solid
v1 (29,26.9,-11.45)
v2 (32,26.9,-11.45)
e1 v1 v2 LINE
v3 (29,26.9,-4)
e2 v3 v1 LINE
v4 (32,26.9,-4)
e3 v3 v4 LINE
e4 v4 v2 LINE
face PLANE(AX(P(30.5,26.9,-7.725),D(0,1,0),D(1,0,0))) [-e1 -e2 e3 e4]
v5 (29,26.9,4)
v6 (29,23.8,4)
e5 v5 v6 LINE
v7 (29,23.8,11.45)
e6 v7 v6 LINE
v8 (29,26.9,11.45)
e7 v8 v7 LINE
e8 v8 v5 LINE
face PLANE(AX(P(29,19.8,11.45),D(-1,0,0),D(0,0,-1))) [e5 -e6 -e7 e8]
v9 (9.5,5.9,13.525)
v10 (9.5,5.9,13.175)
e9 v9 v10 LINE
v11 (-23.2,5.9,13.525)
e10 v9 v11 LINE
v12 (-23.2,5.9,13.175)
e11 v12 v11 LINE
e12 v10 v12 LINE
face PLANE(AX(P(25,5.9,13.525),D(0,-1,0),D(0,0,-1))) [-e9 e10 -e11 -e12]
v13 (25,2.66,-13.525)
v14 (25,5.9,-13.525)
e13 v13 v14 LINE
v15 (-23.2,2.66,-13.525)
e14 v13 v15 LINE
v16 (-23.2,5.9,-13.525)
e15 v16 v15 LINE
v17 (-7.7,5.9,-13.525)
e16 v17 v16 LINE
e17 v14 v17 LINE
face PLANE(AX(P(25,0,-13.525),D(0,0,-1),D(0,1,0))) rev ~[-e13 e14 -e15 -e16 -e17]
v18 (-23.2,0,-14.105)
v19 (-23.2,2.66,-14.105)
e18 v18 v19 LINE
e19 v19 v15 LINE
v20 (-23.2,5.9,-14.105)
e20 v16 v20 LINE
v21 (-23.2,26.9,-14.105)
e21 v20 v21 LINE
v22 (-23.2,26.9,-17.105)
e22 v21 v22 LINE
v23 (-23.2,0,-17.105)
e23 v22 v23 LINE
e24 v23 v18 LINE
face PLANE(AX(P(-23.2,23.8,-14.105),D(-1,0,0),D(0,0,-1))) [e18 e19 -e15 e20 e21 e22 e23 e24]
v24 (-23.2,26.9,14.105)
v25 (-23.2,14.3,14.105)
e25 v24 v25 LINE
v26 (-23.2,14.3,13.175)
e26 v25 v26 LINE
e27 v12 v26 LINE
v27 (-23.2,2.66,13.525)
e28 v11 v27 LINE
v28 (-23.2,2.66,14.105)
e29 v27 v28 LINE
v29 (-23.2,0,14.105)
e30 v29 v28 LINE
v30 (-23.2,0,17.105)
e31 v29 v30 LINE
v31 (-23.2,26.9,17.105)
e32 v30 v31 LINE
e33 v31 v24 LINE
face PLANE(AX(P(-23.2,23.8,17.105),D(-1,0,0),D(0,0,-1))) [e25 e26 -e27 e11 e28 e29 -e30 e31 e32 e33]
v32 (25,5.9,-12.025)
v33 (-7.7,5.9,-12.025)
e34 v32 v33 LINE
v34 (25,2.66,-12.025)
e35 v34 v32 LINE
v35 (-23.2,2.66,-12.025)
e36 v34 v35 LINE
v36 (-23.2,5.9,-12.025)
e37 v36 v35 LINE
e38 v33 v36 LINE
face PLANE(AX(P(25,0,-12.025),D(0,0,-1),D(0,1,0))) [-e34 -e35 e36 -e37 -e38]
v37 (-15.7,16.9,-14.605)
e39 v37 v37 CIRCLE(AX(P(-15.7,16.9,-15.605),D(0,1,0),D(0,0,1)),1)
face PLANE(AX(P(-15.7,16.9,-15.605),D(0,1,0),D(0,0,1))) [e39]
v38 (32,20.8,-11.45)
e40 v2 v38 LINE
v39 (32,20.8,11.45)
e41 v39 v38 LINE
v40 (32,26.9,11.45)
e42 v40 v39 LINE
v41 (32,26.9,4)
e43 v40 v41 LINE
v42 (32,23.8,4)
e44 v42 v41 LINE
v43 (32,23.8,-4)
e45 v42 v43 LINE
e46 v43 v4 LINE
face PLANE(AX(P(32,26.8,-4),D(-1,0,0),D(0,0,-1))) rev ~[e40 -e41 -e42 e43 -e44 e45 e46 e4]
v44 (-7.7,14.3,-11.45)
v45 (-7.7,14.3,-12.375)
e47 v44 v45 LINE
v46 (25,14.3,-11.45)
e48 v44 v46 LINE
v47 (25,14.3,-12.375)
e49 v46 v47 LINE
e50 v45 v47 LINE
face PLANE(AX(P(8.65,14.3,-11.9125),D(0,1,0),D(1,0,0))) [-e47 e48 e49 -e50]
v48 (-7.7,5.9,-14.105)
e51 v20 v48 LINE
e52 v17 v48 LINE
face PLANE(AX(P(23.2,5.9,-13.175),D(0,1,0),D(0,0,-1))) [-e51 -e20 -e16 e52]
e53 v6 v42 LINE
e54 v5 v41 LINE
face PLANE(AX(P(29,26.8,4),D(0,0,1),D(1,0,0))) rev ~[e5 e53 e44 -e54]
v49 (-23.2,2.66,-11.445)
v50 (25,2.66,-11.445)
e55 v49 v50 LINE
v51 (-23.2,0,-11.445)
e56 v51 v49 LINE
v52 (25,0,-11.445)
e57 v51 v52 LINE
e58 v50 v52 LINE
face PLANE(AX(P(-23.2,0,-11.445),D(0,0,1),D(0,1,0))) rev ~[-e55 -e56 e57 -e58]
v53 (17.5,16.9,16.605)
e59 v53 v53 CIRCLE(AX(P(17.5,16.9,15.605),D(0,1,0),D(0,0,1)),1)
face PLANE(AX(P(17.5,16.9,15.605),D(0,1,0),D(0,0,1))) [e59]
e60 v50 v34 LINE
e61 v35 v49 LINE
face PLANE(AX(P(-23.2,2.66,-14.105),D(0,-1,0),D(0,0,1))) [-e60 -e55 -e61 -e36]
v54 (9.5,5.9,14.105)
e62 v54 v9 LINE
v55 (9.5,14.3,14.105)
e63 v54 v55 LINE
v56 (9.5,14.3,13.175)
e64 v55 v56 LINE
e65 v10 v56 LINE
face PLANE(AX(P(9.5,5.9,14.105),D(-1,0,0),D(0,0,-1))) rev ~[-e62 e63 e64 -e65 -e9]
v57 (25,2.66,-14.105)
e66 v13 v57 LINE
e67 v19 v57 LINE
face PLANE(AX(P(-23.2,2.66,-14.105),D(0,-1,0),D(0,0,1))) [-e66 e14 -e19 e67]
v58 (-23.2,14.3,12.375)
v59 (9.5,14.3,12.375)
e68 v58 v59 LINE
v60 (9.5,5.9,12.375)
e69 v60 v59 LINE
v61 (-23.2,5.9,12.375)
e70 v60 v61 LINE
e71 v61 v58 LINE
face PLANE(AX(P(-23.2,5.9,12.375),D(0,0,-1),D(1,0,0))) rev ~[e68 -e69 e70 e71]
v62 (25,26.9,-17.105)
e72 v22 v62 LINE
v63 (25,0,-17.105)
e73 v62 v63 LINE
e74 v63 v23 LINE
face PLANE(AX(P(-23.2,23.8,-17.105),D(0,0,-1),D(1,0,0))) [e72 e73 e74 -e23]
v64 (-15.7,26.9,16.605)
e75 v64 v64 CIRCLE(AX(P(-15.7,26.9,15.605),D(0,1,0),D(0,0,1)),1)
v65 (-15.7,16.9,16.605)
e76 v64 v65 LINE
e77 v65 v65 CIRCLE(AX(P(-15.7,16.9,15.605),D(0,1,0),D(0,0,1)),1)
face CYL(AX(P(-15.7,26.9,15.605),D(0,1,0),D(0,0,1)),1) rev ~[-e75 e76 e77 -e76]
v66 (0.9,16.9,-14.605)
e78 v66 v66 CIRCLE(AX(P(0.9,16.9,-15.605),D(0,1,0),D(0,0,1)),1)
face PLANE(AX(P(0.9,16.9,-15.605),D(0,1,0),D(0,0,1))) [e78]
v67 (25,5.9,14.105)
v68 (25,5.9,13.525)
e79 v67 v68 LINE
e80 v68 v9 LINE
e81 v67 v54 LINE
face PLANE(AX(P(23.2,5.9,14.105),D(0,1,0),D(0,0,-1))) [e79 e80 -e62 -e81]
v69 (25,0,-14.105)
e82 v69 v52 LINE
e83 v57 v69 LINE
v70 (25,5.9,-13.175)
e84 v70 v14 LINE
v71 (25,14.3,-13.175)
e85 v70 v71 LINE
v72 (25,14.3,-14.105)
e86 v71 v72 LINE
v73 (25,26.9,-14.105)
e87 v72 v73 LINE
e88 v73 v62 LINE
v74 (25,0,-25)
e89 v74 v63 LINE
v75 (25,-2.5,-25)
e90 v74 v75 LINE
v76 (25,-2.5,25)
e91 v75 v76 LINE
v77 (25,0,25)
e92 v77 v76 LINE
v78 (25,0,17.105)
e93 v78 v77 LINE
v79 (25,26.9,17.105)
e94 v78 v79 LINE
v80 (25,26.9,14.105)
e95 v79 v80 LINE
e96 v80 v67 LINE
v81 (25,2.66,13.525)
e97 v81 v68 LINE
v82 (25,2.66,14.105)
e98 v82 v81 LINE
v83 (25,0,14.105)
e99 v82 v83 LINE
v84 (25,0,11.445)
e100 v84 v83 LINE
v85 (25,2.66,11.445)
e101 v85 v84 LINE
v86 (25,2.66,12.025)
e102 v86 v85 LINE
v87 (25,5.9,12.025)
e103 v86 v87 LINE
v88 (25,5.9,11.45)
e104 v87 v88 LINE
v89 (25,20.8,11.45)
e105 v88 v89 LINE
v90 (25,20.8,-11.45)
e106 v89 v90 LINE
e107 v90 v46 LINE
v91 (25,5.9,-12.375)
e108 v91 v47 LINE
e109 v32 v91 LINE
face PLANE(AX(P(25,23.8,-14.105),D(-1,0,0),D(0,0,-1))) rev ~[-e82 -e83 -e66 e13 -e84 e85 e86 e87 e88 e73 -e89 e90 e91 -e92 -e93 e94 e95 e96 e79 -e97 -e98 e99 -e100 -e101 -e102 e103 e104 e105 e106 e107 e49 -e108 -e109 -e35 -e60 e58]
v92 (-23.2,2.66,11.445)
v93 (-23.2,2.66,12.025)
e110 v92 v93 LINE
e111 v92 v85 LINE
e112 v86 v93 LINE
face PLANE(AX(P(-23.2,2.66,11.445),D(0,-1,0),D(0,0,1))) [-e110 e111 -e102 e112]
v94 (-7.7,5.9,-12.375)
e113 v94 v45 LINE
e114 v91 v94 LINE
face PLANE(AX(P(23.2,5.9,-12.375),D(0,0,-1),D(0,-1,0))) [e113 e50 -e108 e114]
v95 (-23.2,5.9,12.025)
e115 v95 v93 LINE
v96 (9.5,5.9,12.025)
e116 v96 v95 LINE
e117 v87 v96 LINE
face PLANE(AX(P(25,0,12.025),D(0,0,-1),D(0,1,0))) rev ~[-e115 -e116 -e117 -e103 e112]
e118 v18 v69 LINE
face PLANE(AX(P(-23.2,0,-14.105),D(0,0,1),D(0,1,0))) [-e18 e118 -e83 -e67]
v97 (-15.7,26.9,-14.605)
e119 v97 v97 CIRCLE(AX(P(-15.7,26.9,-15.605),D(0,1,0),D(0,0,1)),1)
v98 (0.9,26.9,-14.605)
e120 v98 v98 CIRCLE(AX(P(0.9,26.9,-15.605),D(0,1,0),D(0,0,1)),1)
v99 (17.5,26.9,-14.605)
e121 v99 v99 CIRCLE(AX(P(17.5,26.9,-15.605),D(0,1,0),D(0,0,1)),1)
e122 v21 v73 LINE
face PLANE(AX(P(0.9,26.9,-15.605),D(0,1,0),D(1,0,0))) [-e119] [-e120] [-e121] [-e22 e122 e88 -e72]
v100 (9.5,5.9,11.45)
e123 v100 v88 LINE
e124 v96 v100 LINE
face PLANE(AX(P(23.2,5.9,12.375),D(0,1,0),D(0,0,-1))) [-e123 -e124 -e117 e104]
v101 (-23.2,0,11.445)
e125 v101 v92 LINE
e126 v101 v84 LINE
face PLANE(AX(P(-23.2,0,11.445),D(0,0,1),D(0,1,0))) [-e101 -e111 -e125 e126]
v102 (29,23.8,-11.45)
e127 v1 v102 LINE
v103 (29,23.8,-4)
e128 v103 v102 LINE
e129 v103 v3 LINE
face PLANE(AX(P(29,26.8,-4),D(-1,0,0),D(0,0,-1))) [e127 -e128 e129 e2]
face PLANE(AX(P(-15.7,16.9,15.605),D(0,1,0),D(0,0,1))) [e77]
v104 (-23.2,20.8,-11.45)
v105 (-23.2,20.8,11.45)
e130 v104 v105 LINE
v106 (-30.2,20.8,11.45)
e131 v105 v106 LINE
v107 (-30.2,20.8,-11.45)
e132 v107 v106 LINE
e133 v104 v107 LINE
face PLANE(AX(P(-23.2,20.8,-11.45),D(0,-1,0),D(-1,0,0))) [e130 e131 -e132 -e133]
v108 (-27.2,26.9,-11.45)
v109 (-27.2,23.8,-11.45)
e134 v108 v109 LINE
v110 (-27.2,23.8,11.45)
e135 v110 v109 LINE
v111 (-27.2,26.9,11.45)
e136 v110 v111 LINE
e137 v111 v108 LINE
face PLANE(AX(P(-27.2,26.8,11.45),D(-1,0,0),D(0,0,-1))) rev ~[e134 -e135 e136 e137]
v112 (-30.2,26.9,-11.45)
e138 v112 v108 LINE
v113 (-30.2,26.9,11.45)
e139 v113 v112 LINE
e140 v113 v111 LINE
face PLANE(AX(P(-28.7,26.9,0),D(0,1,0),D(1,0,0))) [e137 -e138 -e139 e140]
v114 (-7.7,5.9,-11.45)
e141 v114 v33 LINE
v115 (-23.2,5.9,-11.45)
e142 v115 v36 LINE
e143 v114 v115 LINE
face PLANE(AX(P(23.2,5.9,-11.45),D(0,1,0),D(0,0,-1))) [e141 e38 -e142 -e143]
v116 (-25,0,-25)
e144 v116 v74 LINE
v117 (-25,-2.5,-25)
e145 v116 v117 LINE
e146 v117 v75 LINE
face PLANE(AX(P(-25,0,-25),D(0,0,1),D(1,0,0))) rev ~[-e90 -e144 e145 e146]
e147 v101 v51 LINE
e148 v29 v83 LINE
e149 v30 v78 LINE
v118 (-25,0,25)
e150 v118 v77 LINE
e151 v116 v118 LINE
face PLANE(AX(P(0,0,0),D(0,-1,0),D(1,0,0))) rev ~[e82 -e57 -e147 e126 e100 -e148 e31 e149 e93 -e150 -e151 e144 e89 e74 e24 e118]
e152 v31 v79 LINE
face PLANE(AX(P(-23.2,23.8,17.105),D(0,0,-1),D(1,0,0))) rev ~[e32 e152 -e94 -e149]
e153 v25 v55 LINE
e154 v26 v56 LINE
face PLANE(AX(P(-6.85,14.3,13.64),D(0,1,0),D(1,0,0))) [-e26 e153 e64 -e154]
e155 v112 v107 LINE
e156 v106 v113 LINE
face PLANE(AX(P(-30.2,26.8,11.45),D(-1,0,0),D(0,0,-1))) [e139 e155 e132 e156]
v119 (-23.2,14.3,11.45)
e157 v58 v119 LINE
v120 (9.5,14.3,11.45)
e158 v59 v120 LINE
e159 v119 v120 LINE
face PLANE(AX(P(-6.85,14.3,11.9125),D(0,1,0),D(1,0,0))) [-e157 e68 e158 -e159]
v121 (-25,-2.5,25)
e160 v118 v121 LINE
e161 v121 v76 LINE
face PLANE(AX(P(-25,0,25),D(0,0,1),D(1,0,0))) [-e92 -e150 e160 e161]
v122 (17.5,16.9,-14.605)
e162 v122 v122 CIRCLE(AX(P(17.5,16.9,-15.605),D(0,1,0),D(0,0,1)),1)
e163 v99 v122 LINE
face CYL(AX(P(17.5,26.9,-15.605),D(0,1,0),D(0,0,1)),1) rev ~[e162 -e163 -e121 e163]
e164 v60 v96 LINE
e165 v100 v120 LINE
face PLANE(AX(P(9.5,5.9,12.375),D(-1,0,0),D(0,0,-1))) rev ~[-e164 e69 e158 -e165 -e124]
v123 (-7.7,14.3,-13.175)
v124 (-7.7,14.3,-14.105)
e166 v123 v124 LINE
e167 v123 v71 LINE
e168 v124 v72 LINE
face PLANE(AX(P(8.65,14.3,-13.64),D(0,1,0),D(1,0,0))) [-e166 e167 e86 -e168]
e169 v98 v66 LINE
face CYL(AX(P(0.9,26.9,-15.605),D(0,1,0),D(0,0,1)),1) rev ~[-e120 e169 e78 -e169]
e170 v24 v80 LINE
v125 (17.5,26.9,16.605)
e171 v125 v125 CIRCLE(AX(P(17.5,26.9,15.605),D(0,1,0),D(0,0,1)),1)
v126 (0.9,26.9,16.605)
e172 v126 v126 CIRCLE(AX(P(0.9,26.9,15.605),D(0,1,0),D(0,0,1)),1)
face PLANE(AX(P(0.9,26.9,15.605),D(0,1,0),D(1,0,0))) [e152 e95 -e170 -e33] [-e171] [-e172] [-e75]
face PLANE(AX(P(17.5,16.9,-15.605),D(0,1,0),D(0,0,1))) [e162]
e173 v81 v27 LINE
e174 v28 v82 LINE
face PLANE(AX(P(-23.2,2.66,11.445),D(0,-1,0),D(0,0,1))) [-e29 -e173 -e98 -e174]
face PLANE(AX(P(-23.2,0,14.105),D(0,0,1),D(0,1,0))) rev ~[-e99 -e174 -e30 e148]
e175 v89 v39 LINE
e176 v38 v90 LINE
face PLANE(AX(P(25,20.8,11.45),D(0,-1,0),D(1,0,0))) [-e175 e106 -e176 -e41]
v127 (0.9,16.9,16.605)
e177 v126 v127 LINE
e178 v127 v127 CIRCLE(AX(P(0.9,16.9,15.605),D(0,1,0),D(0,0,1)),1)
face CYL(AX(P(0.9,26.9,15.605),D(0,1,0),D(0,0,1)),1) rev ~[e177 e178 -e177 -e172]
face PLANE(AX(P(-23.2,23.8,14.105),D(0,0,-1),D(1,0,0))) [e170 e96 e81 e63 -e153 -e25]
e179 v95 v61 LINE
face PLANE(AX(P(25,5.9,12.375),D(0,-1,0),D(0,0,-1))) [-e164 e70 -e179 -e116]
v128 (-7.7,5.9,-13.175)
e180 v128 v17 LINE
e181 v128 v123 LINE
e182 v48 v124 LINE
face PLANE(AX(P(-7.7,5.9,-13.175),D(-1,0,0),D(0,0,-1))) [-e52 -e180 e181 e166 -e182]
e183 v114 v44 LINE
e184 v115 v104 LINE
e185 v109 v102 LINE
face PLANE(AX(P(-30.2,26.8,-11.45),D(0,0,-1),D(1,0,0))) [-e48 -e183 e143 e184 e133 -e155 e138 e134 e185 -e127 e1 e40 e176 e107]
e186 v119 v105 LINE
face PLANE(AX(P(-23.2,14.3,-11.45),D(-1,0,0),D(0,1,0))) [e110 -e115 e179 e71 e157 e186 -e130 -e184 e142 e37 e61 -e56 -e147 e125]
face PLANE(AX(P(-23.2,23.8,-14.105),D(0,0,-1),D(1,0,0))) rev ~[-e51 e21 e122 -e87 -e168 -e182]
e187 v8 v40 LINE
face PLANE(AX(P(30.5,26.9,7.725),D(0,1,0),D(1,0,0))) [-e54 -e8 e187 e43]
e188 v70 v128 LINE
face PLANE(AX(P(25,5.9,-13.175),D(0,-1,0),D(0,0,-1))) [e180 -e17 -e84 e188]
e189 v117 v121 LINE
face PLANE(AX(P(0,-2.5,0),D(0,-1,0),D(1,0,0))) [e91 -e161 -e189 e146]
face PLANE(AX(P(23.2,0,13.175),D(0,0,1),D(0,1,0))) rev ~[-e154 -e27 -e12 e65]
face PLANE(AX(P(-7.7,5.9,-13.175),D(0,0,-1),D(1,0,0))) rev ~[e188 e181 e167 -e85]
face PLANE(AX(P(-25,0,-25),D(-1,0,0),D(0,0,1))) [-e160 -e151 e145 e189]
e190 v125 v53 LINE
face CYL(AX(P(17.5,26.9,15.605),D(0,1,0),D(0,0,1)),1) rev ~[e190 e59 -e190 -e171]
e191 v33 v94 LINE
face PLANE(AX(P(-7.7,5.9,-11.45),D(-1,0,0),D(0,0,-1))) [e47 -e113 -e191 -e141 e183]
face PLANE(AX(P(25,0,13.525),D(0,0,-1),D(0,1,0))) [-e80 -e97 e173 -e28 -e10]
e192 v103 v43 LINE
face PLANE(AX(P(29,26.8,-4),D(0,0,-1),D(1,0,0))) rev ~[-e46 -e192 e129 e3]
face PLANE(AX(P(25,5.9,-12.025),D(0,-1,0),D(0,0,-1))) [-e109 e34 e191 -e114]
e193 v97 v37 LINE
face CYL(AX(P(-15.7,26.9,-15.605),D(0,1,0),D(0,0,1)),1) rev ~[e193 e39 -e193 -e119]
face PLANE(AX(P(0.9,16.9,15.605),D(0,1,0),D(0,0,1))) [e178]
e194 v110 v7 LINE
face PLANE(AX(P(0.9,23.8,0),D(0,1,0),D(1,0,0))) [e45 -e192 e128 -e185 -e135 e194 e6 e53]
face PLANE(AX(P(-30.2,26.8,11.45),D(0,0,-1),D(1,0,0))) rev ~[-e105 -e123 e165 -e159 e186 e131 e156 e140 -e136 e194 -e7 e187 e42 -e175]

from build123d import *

# Parameters (mm, degrees)
SKETCH1_W            = 46.4
SKETCH1_H            = 24.75
BOSS_EXTRUDE1_DEPTH  = 5.9
BOSS_EXTRUDE2_DEPTH  = 2.5
SKETCH3_W            = 50
SKETCH3_H            = 50
BOSS_EXTRUDE3_DEPTH  = 2.5
SKETCH4_W            = 46.4
SKETCH4_H            = 0.93
BOSS_EXTRUDE4_DEPTH  = 5.9
SKETCH5_W            = 46.4
SKETCH5_H            = 0.93
BOSS_EXTRUDE5_DEPTH  = 5.9
SKETCH6_W            = 46.4
SKETCH6_H            = 3
BOSS_EXTRUDE6_DEPTH  = 8.4
SKETCH7_W            = 46.4
SKETCH7_H            = 3
BOSS_EXTRUDE7_DEPTH  = 8.4
SKETCH8_W            = 46.4
SKETCH8_H            = 22.9
BOSS_EXTRUDE8_DEPTH  = 8.4
SKETCH9_W            = 46.4
SKETCH9_H            = 3
BOSS_EXTRUDE9_DEPTH  = 8.4
SKETCH10_W           = 22.9
SKETCH10_H           = 10.9
BOSS_EXTRUDE10_DEPTH = 1.8
SKETCH11_W           = 0.93
SKETCH11_H           = 5.9
BOSS_EXTRUDE11_DEPTH = 1.8
SKETCH12_W           = 32.7
SKETCH12_H           = 0.925
SKETCH12_H_2         = 0.93
BOSS_EXTRUDE12_DEPTH = 8.4
SKETCH13_W           = 0.93
SKETCH13_H           = 5.9
BOSS_EXTRUDE13_DEPTH = 1.8
SKETCH14_W           = 48.2
SKETCH14_H           = 3
BOSS_EXTRUDE14_DEPTH = 8.4
SKETCH15_W           = 32.7
SKETCH15_H           = 0.93
SKETCH15_H_2         = 0.925
BOSS_EXTRUDE15_DEPTH = 8.4
SKETCH16_W           = 0.35
SKETCH16_H           = 5.9
CUT_EXTRUDE1_DEPTH   = 59.371568422
SKETCH18_W           = 0.35
SKETCH18_H           = 5.9
CUT_EXTRUDE2_DEPTH   = 59.371568422
SKETCH20_W           = 22.9
SKETCH20_H           = 2.5
BOSS_EXTRUDE17_DEPTH = 4
SKETCH22_W           = 22.9
SKETCH22_H           = 2.5
BOSS_EXTRUDE19_DEPTH = 3
SKETCH23_W           = 3
SKETCH23_H           = 22.9
BOSS_EXTRUDE20_DEPTH = 1.5
SKETCH24_W           = 22.9
SKETCH24_H           = 2.5
BOSS_EXTRUDE21_DEPTH = 7
SKETCH25_W           = 3
SKETCH25_H           = 22.9
BOSS_EXTRUDE22_DEPTH = 3
SKETCH27_W           = 48.2
SKETCH27_H           = 3
BOSS_EXTRUDE23_DEPTH = 7
SKETCH28_W           = 56.2
SKETCH28_H           = 22.9
BOSS_EXTRUDE24_DEPTH = 7
SKETCH29_W           = 3
SKETCH29_H           = 22.9
BOSS_EXTRUDE25_DEPTH = 7
SKETCH30_W           = 3
SKETCH30_H           = 22.9
BOSS_EXTRUDE26_DEPTH = 7
SKETCH31_W           = 7
SKETCH31_H           = 6.5
CUT_EXTRUDE3_DEPTH   = 56.415182938
SKETCH32_W           = 7
SKETCH32_H           = 6.5
CUT_EXTRUDE4_DEPTH   = 56.415182938
SKETCH33_W           = 2.66
SKETCH33_H           = 2.66
CUT_EXTRUDE5_DEPTH   = 67.259188042
SKETCH34_W           = 2.66
SKETCH34_H           = 2.66
CUT_EXTRUDE6_DEPTH   = 67.259188042
SKETCH35_W           = 3
SKETCH35_H           = 8
CUT_EXTRUDE7_DEPTH   = 3
SKETCH36_W           = 3
SKETCH36_H           = 22.9
BOSS_EXTRUDE27_DEPTH = 1.5
SKETCH38_W           = 48.2
SKETCH38_H           = 3
BOSS_EXTRUDE28_DEPTH = 3.1
SKETCH39_W           = 48.2
SKETCH39_H           = 3
BOSS_EXTRUDE29_DEPTH = 3.1
SKETCH40_W           = 3
SKETCH40_H           = 7.45
BOSS_EXTRUDE30_DEPTH = 0.1
SKETCH41_W           = 3
SKETCH41_H           = 22.9
BOSS_EXTRUDE31_DEPTH = 0.1
SKETCH42_R           = 1
CUT_EXTRUDE8_DEPTH   = 10


with BuildPart() as part:
    # Sketch1 → Boss-Extrude1 (new body)
    with BuildSketch(Plane(origin=(0, 0, 0), x_dir=(1, 0, 0), z_dir=(0, 1, 0))):
        Rectangle(SKETCH1_W, SKETCH1_H)
    extrude(amount=BOSS_EXTRUDE1_DEPTH)

    # Sketch2 → Boss-Extrude2 (add)
    with BuildSketch(Plane(origin=(0, 5.9, 0), x_dir=(1, 0, 0), z_dir=(0, 1, 0))):
        Polygon((23.2, -11.45), (23.2, 0), (23.2, 11.45), (-23.2, 11.45), (-23.2, -11.45), align=None)
    extrude(amount=BOSS_EXTRUDE2_DEPTH)

    # Sketch3 → Boss-Extrude3 (add)
    with BuildSketch(Plane.XZ):
        Rectangle(SKETCH3_W, SKETCH3_H)
    extrude(amount=BOSS_EXTRUDE3_DEPTH)

    # Sketch4 → Boss-Extrude4 (add)
    with BuildSketch(Plane(origin=(0, 0, 0), x_dir=(1, 0, 0), z_dir=(0, 1, 0))):
        with Locations((0, 13.64)):
            Rectangle(SKETCH4_W, SKETCH4_H)
    extrude(amount=BOSS_EXTRUDE4_DEPTH)

    # Sketch5 → Boss-Extrude5 (add)
    with BuildSketch(Plane(origin=(0, 0, 0), x_dir=(1, 0, 0), z_dir=(0, 1, 0))):
        with Locations((0, -13.64)):
            Rectangle(SKETCH5_W, SKETCH5_H)
    extrude(amount=BOSS_EXTRUDE5_DEPTH)

    # Sketch6 → Boss-Extrude6 (add)
    with BuildSketch(Plane(origin=(0, 0, 0), x_dir=(1, 0, 0), z_dir=(0, 1, 0))):
        with Locations((0, 15.605)):
            Rectangle(SKETCH6_W, SKETCH6_H)
    extrude(amount=BOSS_EXTRUDE6_DEPTH)

    # Sketch7 → Boss-Extrude7 (add)
    with BuildSketch(Plane(origin=(0, 0, 0), x_dir=(1, 0, 0), z_dir=(0, 1, 0))):
        with Locations((0, -15.605)):
            Rectangle(SKETCH7_W, SKETCH7_H)
    extrude(amount=BOSS_EXTRUDE7_DEPTH)

    # Sketch8 → Boss-Extrude8 (add)
    with BuildSketch(Plane(origin=(0, 8.4, 0), x_dir=(1, 0, 0), z_dir=(0, 1, 0))):
        Rectangle(SKETCH8_W, SKETCH8_H)
    extrude(amount=BOSS_EXTRUDE8_DEPTH)

    # Sketch9 → Boss-Extrude9 (add)
    with BuildSketch(Plane(origin=(0, 8.4, 0), x_dir=(1, 0, 0), z_dir=(0, 1, 0))):
        with Locations((0, -15.605)):
            Rectangle(SKETCH9_W, SKETCH9_H)
    extrude(amount=BOSS_EXTRUDE9_DEPTH)

    # Sketch10 → Boss-Extrude10 (add)
    with BuildSketch(Plane(origin=(23.2, 0, 0), x_dir=(0, 0, -1), z_dir=(1, 0, 0))):
        with Locations((0, 11.35)):
            Rectangle(SKETCH10_W, SKETCH10_H)
        Polygon((-11.45, 5.9), (11.45, 5.9), (12.375, 5.9), (12.375, 0), (-12.375, 0), (-12.375, 5.9), align=None)
    extrude(amount=BOSS_EXTRUDE10_DEPTH)

    # Sketch11 → Boss-Extrude11 (add)
    with BuildSketch(Plane(origin=(23.2, 0, 0), x_dir=(0, 0, -1), z_dir=(1, 0, 0))):
        Polygon((-14.105, 16.8), (-17.105, 16.8), (-17.105, 0), (-14.105, 0), (-14.105, 5.9), align=None)
        with Locations((-13.64, 2.95)):
            Rectangle(SKETCH11_W, SKETCH11_H)
    extrude(amount=BOSS_EXTRUDE11_DEPTH)

    # Sketch12 → Boss-Extrude12 (add)
    with BuildSketch(Plane(origin=(0, 5.9, 0), x_dir=(1, 0, 0), z_dir=(0, 1, 0))):
        with Locations((-6.85, -11.9125)):
            Rectangle(SKETCH12_W, SKETCH12_H)
        with Locations((-6.85, -13.64)):
            Rectangle(SKETCH12_W, SKETCH12_H_2)
    extrude(amount=BOSS_EXTRUDE12_DEPTH)

    # Sketch13 → Boss-Extrude13 (add)
    with BuildSketch(Plane(origin=(23.2, 0, 0), x_dir=(0, 0, -1), z_dir=(1, 0, 0))):
        Polygon((17.105, 0), (17.105, 8.4), (14.105, 8.4), (14.105, 5.9), (14.105, 0), align=None)
        with Locations((13.64, 2.95)):
            Rectangle(SKETCH13_W, SKETCH13_H)
    extrude(amount=BOSS_EXTRUDE13_DEPTH)

    # Sketch14 → Boss-Extrude14 (add)
    with BuildSketch(Plane(origin=(0, 8.4, 0), x_dir=(1, 0, 0), z_dir=(0, 1, 0))):
        with Locations((0.9, 15.605)):
            Rectangle(SKETCH14_W, SKETCH14_H)
    extrude(amount=BOSS_EXTRUDE14_DEPTH)

    # Sketch15 → Boss-Extrude15 (add)
    with BuildSketch(Plane(origin=(0, 5.9, 0), x_dir=(1, 0, 0), z_dir=(0, 1, 0))):
        with Locations((8.65, 13.64)):
            Rectangle(SKETCH15_W, SKETCH15_H)
        with Locations((8.65, 11.9125)):
            Rectangle(SKETCH15_W, SKETCH15_H_2)
    extrude(amount=BOSS_EXTRUDE15_DEPTH)

    # Sketch16 → Cut-Extrude1 (cut, through all)
    with BuildSketch(Plane(origin=(25, 0, 0), x_dir=(0, 0, -1), z_dir=(1, 0, 0))):
        with Locations((-12.2, 2.95)):
            Rectangle(SKETCH16_W, SKETCH16_H)
        with Locations((-13.35, 2.95)):
            Rectangle(SKETCH16_W, SKETCH16_H)
    extrude(amount=-CUT_EXTRUDE1_DEPTH, mode=Mode.SUBTRACT)

    # Sketch18 → Cut-Extrude2 (cut, through all)
    with BuildSketch(Plane(origin=(25, 0, 0), x_dir=(0, 0, -1), z_dir=(1, 0, 0))):
        with Locations((12.2, 2.95)):
            Rectangle(SKETCH18_W, SKETCH18_H)
        with Locations((13.35, 2.95)):
            Rectangle(SKETCH18_W, SKETCH18_H)
    extrude(amount=-CUT_EXTRUDE2_DEPTH, mode=Mode.SUBTRACT)

    # Sketch20 → Boss-Extrude17 (add)
    with BuildSketch(Plane.ZY.offset(23.2)):
        with Locations((0, 15.55)):
            Rectangle(SKETCH20_W, SKETCH20_H)
    extrude(amount=BOSS_EXTRUDE17_DEPTH)

    # Sketch22 → Boss-Extrude19 (add)
    with BuildSketch(Plane.ZY.offset(27.2)):
        with Locations((0, 15.55)):
            Rectangle(SKETCH22_W, SKETCH22_H)
    extrude(amount=BOSS_EXTRUDE19_DEPTH)

    # Sketch23 → Boss-Extrude20 (add)
    with BuildSketch(Plane(origin=(0, 16.8, 0), x_dir=(1, 0, 0), z_dir=(0, 1, 0))):
        with Locations((-28.7, 0)):
            Rectangle(SKETCH23_W, SKETCH23_H)
    extrude(amount=BOSS_EXTRUDE20_DEPTH)

    # Sketch24 → Boss-Extrude21 (add)
    with BuildSketch(Plane(origin=(25, 0, 0), x_dir=(0, 0, -1), z_dir=(1, 0, 0))):
        with Locations((0, 15.55)):
            Rectangle(SKETCH24_W, SKETCH24_H)
    extrude(amount=BOSS_EXTRUDE21_DEPTH)

    # Sketch25 → Boss-Extrude22 (add)
    with BuildSketch(Plane(origin=(0, 16.8, 0), x_dir=(1, 0, 0), z_dir=(0, 1, 0))):
        with Locations((30.5, 0)):
            Rectangle(SKETCH25_W, SKETCH25_H)
    extrude(amount=BOSS_EXTRUDE22_DEPTH)

    # Sketch27 → Boss-Extrude23 (add)
    with BuildSketch(Plane(origin=(0, 16.8, 0), x_dir=(1, 0, 0), z_dir=(0, 1, 0))):
        with Locations((0.9, 15.605)):
            Rectangle(SKETCH27_W, SKETCH27_H)
        with Locations((0.9, -15.605)):
            Rectangle(SKETCH27_W, SKETCH27_H)
    extrude(amount=BOSS_EXTRUDE23_DEPTH)

    # Sketch28 → Boss-Extrude24 (add)
    with BuildSketch(Plane(origin=(0, 16.8, 0), x_dir=(1, 0, 0), z_dir=(0, 1, 0))):
        with Locations((0.9, 0)):
            Rectangle(SKETCH28_W, SKETCH28_H)
    extrude(amount=BOSS_EXTRUDE24_DEPTH)

    # Sketch29 → Boss-Extrude25 (add)
    with BuildSketch(Plane(origin=(0, 18.3, 0), x_dir=(1, 0, 0), z_dir=(0, 1, 0))):
        with Locations((-28.7, 0)):
            Rectangle(SKETCH29_W, SKETCH29_H)
    extrude(amount=BOSS_EXTRUDE25_DEPTH)

    # Sketch30 → Boss-Extrude26 (add)
    with BuildSketch(Plane(origin=(0, 19.8, 0), x_dir=(1, 0, 0), z_dir=(0, 1, 0))):
        with Locations((30.5, 0)):
            Rectangle(SKETCH30_W, SKETCH30_H)
    extrude(amount=BOSS_EXTRUDE26_DEPTH)

    # Sketch31 → Cut-Extrude3 (cut, through all)
    with BuildSketch(Plane(origin=(0, 0, -11.45), x_dir=(-1, 0, 0), z_dir=(0, 0, -1))):
        with Locations((26.7, 17.55)):
            Rectangle(SKETCH31_W, SKETCH31_H)
    extrude(amount=-CUT_EXTRUDE3_DEPTH, mode=Mode.SUBTRACT)

    # Sketch32 → Cut-Extrude4 (cut, through all)
    with BuildSketch(Plane.XY.offset(11.45)):
        with Locations((28.5, 17.55)):
            Rectangle(SKETCH32_W, SKETCH32_H)
    extrude(amount=-CUT_EXTRUDE4_DEPTH, mode=Mode.SUBTRACT)

    # Sketch33 → Cut-Extrude5 (cut, through all)
    with BuildSketch(Plane.ZY.offset(23.2)):
        with Locations((-12.775, 1.33)):
            Rectangle(SKETCH33_W, SKETCH33_H)
    extrude(amount=-CUT_EXTRUDE5_DEPTH, mode=Mode.SUBTRACT)

    # Sketch34 → Cut-Extrude6 (cut, through all)
    with BuildSketch(Plane.ZY.offset(23.2)):
        with Locations((12.775, 1.33)):
            Rectangle(SKETCH34_W, SKETCH34_H)
    extrude(amount=-CUT_EXTRUDE6_DEPTH, mode=Mode.SUBTRACT)

    # Sketch35 → Cut-Extrude7 (cut)
    with BuildSketch(Plane(origin=(0, 26.8, 0), x_dir=(1, 0, 0), z_dir=(0, 1, 0))):
        with Locations((30.5, 0)):
            Rectangle(SKETCH35_W, SKETCH35_H)
    extrude(amount=-CUT_EXTRUDE7_DEPTH, mode=Mode.SUBTRACT)

    # Sketch36 → Boss-Extrude27 (add)
    with BuildSketch(Plane(origin=(0, 25.3, 0), x_dir=(1, 0, 0), z_dir=(0, 1, 0))):
        with Locations((-28.7, 0)):
            Rectangle(SKETCH36_W, SKETCH36_H)
    extrude(amount=BOSS_EXTRUDE27_DEPTH)

    # Sketch38 → Boss-Extrude28 (add)
    with BuildSketch(Plane(origin=(0, 23.8, 0), x_dir=(1, 0, 0), z_dir=(0, 1, 0))):
        with Locations((0.9, -15.605)):
            Rectangle(SKETCH38_W, SKETCH38_H)
    extrude(amount=BOSS_EXTRUDE28_DEPTH)

    # Sketch39 → Boss-Extrude29 (add)
    with BuildSketch(Plane(origin=(0, 23.8, 0), x_dir=(1, 0, 0), z_dir=(0, 1, 0))):
        with Locations((0.9, 15.605)):
            Rectangle(SKETCH39_W, SKETCH39_H)
    extrude(amount=BOSS_EXTRUDE29_DEPTH)

    # Sketch40 → Boss-Extrude30 (add)
    with BuildSketch(Plane(origin=(0, 26.8, 0), x_dir=(1, 0, 0), z_dir=(0, 1, 0))):
        with Locations((30.5, 7.725)):
            Rectangle(SKETCH40_W, SKETCH40_H)
        with Locations((30.5, -7.725)):
            Rectangle(SKETCH40_W, SKETCH40_H)
    extrude(amount=BOSS_EXTRUDE30_DEPTH)

    # Sketch41 → Boss-Extrude31 (add)
    with BuildSketch(Plane(origin=(0, 26.8, 0), x_dir=(1, 0, 0), z_dir=(0, 1, 0))):
        with Locations((-28.7, 0)):
            Rectangle(SKETCH41_W, SKETCH41_H)
    extrude(amount=BOSS_EXTRUDE31_DEPTH)

    # Sketch42 → Cut-Extrude8 (cut)
    with BuildSketch(Plane(origin=(0, 26.9, 0), x_dir=(1, 0, 0), z_dir=(0, 1, 0))):
        with Locations(Location((-15.7, -15.605, 0), (0, 0, 270))):
            Circle(SKETCH42_R)
        with Locations(Location((-15.7, 15.605, 0), (0, 0, 270))):
            Circle(SKETCH42_R)
        with Locations(Location((17.5, -15.605, 0), (0, 0, 270))):
            Circle(SKETCH42_R)
        with Locations(Location((17.5, 15.605, 0), (0, 0, 270))):
            Circle(SKETCH42_R)
        with Locations(Location((0.9, -15.605, 0), (0, 0, 270))):
            Circle(SKETCH42_R)
        with Locations(Location((0.9, 15.605, 0), (0, 0, 270))):
            Circle(SKETCH42_R)
    extrude(amount=-CUT_EXTRUDE8_DEPTH, mode=Mode.SUBTRACT)


solid = part.part
